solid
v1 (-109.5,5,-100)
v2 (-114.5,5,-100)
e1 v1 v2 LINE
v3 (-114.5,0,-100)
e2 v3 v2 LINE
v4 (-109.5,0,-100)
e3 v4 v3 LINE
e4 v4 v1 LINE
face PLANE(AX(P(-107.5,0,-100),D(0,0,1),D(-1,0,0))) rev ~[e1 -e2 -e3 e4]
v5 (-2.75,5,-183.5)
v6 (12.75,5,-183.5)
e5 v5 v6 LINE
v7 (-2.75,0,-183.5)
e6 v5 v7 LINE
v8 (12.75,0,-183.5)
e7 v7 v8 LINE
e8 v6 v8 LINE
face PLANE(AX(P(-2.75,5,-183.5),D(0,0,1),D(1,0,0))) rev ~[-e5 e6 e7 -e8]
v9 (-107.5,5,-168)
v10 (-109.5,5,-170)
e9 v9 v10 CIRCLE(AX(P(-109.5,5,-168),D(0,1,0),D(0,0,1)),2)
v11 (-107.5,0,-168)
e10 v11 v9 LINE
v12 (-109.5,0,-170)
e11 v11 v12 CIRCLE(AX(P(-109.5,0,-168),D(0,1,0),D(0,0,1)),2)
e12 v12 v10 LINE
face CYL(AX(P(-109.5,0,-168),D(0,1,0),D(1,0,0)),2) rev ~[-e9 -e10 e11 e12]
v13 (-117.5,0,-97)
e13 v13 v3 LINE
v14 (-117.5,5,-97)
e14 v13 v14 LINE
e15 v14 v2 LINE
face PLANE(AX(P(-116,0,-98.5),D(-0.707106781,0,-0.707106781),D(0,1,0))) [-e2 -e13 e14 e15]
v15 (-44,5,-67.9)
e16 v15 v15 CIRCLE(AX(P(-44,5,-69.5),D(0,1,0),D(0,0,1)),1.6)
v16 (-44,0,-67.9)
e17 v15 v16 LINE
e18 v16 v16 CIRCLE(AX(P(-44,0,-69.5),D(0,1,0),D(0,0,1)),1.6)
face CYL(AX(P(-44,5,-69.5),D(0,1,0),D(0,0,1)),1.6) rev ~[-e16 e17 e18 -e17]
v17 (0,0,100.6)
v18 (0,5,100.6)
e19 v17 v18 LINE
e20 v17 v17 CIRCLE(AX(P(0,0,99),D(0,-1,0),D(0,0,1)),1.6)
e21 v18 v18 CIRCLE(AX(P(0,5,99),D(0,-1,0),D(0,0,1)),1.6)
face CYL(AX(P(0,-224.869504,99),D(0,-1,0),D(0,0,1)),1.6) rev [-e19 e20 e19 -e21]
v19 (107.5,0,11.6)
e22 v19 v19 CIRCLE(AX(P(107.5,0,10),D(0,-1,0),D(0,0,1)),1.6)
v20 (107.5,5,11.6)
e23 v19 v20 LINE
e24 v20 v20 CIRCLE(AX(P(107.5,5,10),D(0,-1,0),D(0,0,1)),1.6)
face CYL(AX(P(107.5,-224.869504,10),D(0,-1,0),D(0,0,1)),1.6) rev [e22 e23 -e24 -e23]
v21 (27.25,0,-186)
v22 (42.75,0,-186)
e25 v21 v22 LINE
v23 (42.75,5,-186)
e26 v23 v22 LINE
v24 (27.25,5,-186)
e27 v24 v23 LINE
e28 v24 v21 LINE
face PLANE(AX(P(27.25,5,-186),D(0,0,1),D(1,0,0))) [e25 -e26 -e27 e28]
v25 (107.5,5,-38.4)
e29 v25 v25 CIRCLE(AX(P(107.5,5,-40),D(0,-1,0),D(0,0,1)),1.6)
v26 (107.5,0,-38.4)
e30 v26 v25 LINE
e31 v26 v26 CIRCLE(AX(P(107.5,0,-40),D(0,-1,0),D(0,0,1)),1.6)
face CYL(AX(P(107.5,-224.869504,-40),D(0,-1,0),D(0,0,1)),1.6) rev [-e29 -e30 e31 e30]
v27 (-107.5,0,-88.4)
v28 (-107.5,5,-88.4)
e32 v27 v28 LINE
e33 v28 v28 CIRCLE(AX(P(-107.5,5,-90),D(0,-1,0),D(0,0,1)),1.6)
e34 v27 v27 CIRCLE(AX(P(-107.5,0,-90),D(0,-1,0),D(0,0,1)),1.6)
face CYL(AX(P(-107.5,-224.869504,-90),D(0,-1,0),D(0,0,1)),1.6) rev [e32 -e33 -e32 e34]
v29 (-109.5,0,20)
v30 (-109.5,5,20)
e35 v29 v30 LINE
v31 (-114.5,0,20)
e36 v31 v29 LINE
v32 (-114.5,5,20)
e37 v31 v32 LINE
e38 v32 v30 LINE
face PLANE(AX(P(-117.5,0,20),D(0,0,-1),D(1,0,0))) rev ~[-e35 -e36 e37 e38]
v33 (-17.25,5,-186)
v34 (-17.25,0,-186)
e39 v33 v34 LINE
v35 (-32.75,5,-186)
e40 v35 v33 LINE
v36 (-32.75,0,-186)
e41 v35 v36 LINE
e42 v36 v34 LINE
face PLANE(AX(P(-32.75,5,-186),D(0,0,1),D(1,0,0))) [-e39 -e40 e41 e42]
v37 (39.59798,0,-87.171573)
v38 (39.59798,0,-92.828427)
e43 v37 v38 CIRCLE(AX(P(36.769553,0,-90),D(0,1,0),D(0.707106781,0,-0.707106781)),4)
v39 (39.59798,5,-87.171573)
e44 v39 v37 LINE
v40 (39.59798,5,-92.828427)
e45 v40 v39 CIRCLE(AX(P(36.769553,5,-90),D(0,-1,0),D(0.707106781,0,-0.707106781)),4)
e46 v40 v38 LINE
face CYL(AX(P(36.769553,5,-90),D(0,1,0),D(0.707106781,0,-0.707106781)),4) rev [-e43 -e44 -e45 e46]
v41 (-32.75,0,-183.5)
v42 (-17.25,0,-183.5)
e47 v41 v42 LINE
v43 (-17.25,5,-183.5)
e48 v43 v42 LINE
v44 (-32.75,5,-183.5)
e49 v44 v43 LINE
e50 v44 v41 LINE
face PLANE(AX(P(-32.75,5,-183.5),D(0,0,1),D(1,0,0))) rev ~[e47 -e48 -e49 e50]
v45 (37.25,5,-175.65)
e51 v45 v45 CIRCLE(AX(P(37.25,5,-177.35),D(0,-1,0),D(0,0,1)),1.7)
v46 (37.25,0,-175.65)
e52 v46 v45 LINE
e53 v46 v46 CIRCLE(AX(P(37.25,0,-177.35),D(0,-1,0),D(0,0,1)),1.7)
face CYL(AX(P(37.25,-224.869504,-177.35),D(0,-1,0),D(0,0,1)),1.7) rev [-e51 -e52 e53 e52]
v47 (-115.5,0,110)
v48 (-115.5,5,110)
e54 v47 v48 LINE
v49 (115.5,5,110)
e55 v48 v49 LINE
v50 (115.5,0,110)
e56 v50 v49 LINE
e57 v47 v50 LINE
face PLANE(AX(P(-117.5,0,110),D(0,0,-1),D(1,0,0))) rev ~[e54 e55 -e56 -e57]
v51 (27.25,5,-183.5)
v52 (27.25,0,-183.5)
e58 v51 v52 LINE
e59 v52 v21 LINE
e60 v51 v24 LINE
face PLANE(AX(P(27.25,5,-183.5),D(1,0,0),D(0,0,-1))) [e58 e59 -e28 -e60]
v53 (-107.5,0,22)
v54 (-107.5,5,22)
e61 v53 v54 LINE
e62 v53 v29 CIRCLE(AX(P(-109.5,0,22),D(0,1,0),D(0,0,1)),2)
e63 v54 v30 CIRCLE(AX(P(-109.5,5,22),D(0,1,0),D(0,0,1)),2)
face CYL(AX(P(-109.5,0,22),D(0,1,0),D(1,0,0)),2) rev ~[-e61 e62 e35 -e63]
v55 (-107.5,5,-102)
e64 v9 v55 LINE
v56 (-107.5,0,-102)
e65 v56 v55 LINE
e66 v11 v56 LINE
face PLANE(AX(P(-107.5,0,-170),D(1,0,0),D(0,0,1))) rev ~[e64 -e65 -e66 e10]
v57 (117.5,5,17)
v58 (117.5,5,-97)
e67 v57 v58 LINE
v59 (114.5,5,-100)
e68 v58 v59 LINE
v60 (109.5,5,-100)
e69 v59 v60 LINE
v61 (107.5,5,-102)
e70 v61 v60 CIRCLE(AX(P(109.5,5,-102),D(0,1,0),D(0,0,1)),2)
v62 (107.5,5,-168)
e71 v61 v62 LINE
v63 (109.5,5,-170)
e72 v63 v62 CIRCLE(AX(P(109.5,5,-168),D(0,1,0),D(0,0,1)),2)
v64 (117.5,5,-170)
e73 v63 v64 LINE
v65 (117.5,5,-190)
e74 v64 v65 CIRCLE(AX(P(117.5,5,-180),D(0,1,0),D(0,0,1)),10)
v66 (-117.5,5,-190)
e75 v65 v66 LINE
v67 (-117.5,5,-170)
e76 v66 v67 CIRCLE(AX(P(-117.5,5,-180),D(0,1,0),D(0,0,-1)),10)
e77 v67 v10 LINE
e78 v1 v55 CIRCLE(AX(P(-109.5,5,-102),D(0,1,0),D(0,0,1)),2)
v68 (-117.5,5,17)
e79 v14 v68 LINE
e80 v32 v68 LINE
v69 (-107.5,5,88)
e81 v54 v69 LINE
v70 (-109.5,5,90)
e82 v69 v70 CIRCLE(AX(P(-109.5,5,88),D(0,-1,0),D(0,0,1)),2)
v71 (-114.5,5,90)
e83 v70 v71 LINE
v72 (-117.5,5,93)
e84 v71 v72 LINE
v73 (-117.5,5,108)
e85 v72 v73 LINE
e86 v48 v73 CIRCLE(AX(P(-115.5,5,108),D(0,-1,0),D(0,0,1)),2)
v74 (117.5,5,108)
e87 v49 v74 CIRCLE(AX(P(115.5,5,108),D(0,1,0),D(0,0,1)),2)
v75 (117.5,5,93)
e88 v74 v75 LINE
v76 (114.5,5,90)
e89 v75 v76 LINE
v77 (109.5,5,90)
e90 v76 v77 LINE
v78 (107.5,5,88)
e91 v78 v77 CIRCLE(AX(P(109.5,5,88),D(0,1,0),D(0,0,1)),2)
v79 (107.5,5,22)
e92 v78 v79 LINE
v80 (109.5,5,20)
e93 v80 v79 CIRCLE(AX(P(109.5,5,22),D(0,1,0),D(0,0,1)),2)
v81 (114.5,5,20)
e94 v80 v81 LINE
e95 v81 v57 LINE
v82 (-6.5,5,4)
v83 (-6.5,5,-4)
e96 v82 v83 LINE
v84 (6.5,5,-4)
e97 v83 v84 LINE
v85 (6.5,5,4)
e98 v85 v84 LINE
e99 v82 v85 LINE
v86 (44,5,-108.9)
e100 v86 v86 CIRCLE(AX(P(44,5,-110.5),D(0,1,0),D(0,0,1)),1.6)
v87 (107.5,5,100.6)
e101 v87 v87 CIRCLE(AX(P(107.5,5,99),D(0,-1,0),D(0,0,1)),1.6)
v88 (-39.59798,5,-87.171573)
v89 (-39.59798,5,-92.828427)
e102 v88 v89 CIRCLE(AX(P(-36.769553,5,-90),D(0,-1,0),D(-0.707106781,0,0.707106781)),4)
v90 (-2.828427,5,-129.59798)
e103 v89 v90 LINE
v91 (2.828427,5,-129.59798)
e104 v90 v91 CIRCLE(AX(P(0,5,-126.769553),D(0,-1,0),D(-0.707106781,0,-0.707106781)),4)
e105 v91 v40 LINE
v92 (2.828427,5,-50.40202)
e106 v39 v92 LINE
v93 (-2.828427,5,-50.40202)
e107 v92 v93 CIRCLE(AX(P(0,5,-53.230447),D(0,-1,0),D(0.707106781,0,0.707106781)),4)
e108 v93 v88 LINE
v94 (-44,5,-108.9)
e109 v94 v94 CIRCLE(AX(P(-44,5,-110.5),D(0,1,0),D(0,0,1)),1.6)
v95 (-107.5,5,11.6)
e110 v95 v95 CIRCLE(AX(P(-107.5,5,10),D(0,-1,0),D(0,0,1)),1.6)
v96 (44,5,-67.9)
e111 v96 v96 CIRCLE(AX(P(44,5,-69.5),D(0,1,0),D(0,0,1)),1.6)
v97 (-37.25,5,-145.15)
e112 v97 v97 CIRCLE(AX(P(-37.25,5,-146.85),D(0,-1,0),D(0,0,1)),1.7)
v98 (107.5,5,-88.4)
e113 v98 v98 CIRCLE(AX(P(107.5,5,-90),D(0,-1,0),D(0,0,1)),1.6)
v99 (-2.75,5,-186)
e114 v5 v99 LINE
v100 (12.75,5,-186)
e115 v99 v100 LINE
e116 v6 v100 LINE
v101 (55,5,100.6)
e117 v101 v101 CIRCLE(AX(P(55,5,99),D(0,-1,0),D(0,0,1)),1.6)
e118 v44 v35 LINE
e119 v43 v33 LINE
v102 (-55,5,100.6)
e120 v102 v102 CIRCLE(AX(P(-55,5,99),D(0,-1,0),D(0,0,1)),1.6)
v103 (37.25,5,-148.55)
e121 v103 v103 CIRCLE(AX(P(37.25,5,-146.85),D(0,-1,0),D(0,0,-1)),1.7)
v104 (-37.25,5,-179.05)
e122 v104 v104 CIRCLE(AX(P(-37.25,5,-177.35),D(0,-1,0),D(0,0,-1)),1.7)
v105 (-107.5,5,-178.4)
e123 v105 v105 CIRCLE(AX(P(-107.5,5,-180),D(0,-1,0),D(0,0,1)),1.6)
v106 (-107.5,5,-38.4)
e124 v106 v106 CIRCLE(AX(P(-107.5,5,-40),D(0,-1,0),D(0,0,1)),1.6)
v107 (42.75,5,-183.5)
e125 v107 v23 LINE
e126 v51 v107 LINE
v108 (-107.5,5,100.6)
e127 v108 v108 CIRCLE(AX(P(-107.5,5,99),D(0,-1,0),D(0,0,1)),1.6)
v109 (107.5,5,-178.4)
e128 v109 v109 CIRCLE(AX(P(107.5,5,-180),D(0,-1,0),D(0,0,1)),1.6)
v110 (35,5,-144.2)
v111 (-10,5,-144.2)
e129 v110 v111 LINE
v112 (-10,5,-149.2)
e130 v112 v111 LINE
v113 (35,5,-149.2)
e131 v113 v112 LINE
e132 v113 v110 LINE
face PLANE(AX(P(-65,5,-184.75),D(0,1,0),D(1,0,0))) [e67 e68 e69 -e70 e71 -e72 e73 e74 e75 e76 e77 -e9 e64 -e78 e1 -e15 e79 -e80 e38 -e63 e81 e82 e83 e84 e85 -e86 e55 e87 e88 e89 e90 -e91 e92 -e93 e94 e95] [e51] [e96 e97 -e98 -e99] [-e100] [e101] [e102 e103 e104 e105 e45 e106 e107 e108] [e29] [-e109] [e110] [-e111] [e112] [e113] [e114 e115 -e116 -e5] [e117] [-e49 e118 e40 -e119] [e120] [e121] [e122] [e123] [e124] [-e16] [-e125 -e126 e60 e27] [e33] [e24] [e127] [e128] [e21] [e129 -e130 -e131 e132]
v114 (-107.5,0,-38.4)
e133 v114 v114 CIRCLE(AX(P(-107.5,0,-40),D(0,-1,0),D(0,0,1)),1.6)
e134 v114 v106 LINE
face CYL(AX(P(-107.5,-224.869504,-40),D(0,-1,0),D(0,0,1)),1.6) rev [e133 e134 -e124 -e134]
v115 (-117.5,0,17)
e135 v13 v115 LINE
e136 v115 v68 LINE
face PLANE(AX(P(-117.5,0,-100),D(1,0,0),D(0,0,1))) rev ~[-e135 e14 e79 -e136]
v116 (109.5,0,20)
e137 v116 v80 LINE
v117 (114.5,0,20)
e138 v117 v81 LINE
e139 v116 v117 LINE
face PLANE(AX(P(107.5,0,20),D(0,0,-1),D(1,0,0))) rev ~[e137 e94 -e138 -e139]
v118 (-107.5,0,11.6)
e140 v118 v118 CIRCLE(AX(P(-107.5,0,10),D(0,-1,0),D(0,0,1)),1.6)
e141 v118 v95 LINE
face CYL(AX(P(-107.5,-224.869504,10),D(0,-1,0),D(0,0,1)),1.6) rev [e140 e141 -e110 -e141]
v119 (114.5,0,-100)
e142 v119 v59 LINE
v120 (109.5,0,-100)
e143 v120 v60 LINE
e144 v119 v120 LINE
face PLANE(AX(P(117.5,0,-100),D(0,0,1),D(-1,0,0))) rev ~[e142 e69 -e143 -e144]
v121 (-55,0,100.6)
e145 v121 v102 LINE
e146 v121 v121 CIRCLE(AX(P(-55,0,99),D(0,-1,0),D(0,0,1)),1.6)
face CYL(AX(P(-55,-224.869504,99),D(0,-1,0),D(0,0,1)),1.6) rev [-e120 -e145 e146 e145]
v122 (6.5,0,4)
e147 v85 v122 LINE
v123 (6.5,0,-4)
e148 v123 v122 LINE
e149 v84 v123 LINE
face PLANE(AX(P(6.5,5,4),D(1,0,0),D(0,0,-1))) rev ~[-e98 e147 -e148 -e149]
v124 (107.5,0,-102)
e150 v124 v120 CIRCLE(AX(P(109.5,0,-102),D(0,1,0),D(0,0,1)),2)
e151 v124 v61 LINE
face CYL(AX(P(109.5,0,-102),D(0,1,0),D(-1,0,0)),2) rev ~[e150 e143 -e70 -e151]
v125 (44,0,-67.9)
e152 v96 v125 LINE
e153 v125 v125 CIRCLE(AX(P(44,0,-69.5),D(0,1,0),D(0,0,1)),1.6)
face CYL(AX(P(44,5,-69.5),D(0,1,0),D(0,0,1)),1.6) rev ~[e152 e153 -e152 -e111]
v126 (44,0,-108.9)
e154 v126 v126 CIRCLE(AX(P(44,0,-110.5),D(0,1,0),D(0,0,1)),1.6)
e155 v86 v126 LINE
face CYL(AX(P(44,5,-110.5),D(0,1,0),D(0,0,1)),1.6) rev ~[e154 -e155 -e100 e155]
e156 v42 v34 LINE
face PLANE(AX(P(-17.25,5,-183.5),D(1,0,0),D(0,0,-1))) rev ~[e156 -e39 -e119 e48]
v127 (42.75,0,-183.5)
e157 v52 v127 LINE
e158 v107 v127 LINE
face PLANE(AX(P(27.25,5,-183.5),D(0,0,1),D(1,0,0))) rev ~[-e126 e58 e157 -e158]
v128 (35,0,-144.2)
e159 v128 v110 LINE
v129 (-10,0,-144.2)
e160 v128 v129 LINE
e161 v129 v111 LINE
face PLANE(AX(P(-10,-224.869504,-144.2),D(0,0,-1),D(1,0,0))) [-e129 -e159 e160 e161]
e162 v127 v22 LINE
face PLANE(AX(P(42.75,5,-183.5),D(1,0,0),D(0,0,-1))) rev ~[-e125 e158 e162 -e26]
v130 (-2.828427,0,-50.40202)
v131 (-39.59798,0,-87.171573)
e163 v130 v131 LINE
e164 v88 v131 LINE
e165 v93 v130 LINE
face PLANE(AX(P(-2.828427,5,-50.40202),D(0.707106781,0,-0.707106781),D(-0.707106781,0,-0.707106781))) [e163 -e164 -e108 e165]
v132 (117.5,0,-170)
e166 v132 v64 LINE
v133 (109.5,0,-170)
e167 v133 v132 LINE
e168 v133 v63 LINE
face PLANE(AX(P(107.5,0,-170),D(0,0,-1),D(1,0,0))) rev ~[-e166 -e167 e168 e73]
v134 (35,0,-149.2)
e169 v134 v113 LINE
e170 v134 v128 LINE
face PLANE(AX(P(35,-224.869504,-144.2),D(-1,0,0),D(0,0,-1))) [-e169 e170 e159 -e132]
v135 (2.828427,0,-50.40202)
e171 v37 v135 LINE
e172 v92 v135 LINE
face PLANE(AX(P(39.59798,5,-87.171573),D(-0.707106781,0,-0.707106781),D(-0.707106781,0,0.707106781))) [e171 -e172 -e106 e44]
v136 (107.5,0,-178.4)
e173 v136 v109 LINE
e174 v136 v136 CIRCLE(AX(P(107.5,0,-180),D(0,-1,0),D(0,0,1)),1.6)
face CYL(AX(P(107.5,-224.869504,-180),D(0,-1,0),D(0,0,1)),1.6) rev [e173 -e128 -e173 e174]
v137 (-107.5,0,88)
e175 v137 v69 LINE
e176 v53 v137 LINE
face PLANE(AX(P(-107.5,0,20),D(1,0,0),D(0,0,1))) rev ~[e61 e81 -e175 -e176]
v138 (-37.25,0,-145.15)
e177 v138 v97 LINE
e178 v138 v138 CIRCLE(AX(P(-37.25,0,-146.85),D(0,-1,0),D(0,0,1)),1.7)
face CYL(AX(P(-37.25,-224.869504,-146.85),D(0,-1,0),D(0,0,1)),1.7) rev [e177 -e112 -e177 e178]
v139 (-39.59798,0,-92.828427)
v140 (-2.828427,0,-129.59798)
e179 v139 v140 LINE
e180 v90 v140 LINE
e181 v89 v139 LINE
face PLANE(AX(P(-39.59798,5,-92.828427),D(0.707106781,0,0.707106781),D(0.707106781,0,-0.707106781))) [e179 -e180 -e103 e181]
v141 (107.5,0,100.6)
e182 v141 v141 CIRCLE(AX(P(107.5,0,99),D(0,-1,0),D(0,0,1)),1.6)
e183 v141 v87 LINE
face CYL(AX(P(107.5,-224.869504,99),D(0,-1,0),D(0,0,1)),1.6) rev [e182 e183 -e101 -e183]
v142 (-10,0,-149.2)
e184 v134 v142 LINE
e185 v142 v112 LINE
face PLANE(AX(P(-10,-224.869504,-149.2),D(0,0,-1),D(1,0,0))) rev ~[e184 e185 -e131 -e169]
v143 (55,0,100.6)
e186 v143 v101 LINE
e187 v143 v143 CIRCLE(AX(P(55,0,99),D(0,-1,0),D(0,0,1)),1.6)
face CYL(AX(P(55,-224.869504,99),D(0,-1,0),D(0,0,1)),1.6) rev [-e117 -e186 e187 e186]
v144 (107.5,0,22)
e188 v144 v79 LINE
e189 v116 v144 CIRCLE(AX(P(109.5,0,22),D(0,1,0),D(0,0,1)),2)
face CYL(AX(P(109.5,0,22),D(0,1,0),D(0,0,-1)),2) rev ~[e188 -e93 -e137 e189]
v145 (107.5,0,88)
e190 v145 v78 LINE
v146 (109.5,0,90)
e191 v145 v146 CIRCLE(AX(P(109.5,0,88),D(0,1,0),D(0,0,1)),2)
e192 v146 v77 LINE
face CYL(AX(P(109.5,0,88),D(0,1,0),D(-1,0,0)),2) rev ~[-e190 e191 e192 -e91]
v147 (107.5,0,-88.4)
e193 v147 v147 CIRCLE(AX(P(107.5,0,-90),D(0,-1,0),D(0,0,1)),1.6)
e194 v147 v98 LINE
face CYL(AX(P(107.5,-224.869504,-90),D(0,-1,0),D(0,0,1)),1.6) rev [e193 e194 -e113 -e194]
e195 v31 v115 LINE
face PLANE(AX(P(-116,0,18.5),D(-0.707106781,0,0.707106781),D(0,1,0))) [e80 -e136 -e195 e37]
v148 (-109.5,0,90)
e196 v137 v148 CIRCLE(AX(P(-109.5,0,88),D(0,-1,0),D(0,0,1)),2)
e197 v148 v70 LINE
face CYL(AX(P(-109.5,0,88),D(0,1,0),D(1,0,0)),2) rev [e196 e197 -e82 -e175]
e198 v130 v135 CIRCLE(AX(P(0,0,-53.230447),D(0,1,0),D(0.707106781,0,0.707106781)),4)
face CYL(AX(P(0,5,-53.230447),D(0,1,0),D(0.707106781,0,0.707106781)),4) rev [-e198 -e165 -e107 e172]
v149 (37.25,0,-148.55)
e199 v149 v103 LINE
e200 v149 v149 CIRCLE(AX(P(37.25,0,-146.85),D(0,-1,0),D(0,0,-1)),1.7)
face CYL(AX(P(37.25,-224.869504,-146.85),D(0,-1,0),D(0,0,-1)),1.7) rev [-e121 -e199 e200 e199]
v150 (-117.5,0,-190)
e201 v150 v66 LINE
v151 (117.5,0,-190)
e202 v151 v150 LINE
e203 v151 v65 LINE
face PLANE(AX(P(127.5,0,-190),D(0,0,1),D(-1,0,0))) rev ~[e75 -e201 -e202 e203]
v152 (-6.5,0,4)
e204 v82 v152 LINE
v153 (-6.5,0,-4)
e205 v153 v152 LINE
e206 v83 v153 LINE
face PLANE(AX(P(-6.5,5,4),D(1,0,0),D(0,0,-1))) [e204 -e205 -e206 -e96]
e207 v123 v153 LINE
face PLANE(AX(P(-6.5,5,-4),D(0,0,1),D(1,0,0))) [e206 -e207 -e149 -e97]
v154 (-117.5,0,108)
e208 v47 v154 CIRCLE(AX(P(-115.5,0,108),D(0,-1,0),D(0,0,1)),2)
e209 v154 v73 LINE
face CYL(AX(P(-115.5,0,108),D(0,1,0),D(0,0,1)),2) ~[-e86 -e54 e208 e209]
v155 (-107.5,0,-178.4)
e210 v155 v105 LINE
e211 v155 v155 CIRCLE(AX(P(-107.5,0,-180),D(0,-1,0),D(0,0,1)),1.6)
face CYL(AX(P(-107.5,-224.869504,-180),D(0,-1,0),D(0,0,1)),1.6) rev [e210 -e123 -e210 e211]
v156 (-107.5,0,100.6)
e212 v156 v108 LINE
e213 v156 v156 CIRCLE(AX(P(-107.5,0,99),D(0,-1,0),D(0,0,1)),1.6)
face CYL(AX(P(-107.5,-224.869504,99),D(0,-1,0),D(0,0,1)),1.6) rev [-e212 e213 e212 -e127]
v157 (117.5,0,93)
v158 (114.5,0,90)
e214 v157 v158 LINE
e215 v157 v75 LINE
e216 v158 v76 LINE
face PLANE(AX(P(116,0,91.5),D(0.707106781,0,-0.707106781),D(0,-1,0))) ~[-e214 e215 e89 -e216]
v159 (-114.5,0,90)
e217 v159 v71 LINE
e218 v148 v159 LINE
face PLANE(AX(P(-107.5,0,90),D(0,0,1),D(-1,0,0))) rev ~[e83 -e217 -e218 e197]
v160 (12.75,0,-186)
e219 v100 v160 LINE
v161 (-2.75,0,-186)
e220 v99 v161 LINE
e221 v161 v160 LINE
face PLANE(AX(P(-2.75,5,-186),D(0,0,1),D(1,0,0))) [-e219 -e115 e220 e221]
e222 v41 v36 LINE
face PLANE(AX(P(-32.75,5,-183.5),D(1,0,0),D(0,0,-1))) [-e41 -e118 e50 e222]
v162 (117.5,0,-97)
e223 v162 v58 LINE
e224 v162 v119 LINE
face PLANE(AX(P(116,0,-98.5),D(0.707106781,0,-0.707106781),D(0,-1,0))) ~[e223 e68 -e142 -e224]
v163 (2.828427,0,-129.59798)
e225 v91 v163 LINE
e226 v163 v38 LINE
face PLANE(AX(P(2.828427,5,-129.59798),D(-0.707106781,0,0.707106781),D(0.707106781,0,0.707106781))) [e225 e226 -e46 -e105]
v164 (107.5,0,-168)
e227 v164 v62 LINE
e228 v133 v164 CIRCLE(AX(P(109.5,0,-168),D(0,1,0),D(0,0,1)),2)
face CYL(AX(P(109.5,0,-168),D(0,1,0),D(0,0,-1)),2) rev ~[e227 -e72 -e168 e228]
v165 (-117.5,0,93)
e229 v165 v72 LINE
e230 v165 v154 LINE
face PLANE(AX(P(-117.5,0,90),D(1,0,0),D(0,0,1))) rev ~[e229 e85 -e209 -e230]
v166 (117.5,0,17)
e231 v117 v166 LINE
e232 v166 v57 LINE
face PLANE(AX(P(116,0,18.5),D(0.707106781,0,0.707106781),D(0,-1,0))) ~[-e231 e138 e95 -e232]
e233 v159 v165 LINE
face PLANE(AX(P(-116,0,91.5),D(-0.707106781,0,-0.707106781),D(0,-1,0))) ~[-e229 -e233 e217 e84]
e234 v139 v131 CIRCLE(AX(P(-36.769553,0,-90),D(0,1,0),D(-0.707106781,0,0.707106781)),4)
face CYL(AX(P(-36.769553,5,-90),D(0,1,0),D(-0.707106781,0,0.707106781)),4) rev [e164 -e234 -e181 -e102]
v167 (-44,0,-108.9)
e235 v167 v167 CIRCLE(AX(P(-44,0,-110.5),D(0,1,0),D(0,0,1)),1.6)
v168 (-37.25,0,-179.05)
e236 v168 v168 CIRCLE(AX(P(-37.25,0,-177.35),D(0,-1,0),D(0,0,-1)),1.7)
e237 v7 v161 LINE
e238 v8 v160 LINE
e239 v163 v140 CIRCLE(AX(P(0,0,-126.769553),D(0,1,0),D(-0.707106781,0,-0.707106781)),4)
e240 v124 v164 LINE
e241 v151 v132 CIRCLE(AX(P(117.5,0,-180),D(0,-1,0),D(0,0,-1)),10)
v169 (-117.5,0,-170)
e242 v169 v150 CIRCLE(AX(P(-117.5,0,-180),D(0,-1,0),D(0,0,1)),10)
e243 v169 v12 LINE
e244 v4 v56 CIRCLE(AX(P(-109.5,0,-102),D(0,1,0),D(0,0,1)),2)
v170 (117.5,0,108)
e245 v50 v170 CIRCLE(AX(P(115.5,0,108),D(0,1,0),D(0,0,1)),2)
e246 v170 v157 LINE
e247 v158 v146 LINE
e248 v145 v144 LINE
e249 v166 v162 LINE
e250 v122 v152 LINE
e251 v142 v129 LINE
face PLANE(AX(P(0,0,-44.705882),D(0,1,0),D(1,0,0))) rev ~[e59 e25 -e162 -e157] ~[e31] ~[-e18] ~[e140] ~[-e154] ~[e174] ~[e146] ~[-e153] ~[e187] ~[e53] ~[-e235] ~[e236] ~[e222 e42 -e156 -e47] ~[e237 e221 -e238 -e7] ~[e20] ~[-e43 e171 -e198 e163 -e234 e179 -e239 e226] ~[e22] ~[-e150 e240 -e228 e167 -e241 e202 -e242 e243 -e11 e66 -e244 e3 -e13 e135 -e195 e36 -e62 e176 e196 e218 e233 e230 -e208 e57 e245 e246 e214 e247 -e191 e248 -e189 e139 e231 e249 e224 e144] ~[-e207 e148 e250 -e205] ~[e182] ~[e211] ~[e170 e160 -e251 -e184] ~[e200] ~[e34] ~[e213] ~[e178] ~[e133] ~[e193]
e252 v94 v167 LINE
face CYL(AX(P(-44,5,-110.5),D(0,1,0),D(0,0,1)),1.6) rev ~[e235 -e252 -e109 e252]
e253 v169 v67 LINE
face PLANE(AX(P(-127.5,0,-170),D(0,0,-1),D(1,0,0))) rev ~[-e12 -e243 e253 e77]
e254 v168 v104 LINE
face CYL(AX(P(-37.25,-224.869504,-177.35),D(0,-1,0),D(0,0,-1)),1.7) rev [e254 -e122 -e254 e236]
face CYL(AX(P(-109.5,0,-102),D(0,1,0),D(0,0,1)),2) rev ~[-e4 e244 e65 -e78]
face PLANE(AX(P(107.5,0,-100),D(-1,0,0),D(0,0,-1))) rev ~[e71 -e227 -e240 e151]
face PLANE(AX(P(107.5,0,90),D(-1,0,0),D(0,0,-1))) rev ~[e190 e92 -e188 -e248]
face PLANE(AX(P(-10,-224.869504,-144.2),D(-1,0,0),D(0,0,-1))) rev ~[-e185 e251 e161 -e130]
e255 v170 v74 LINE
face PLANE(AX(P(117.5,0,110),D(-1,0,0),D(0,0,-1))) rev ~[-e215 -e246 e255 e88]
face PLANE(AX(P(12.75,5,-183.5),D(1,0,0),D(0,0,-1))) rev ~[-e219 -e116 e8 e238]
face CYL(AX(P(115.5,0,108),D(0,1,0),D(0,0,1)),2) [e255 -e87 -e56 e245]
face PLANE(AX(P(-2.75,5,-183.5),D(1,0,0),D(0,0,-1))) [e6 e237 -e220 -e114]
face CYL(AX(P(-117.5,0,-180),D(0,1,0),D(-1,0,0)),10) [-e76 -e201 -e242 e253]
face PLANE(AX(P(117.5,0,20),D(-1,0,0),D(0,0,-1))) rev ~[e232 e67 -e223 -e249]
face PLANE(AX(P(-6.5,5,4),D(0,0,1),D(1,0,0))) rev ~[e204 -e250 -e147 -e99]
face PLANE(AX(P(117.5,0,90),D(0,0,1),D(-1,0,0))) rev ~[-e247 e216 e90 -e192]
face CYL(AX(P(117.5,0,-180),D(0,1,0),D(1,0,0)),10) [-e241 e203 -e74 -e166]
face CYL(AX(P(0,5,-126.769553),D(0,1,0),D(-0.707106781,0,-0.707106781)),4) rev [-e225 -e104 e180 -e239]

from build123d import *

# Parameters (mm, degrees)
BOSS_EXTRUDE1_DEPTH       = 5
FILLET3_RADIUS            = 10
FILLET3_LENGTH            = 5
FILLET4_RADIUS            = 10
FILLET4_LENGTH            = 5
FILLET2_R                 = 2
LAYER_FIX_HOLE_DEPTH      = 229.869504303
LAYER_FIX_HOLE_DEPTH_BACK = 229.869504303
SKETCH2_R                 = 1.6
SKETCH3_R                 = 1.6
ARM_FIX_HOLE_DEPTH        = 229.869504303
SKETCH4_W                 = 15.5
SKETCH4_H                 = 2.5
IR_FIX_HOLE_DEPTH         = 229.869504303
CHAMFER1_SIZE             = 3
SKETCH5_W                 = 15.5
SKETCH5_H                 = 2.5
BOSS_EXTRUDE2_DEPTH       = 5
TURN_ON_OFF_SWITCH_REACH  = 230.87
SKETCH6_W                 = 13
SKETCH6_H                 = 8
CUT_EXTRUDE2_DEPTH        = 229.869504303
CUT_EXTRUDE2_DEPTH_BACK   = 229.869504303
SKETCH9_R                 = 1.7
SKETCH9_W                 = 45
SKETCH9_H                 = 5


with BuildPart() as part:
    # Sketch1 → Boss-Extrude1 (new body)
    with BuildSketch(Plane(origin=(0, 0, 0), x_dir=(1, 0, 0), z_dir=(0, 1, 0))):
        Polygon((-117.5, -110), (117.5, -110), (117.5, -90), (107.5, -90), (107.5, -20), (117.5, -20), (117.5, 100), (107.5, 100), (107.5, 170), (127.5, 170), (127.5, 190), (-127.5, 190), (-127.5, 170), (-107.5, 170), (-107.5, 100), (-117.5, 100), (-117.5, -20), (-107.5, -20), (-107.5, -90), (-117.5, -90), align=None)
    extrude(amount=BOSS_EXTRUDE1_DEPTH)

    # Fillet3: full round fillet: the end face becomes a half cylinder, R = half its width
    fillet3_face = Plane((127.5, 2.5, -180), x_dir=(0, 1, 0), z_dir=(1, 0, 0))  # on the end face: x along it, z out of the body
    fillet3_slab = fillet3_face.offset(-FILLET3_RADIUS / 2) * Box(FILLET3_LENGTH, 2 * FILLET3_RADIUS, FILLET3_RADIUS, mode=Mode.PRIVATE)  # the body's end, R deep
    fillet3_round = Plane((117.5, 2.5, -180), x_dir=(1, 0, 0), z_dir=(0, 1, 0)) * Cylinder(FILLET3_RADIUS, FILLET3_LENGTH, mode=Mode.PRIVATE)  # its axis R under the face
    add(fillet3_slab - fillet3_round, mode=Mode.SUBTRACT)

    # Fillet4: full round fillet: the end face becomes a half cylinder, R = half its width
    fillet4_face = Plane((-127.5, 2.5, -180), x_dir=(0, 1, 0), z_dir=(-1, 0, 0))  # on the end face: x along it, z out of the body
    fillet4_slab = fillet4_face.offset(-FILLET4_RADIUS / 2) * Box(FILLET4_LENGTH, 2 * FILLET4_RADIUS, FILLET4_RADIUS, mode=Mode.PRIVATE)  # the body's end, R deep
    fillet4_round = Plane((-117.5, 2.5, -180), x_dir=(-1, 0, 0), z_dir=(0, 1, 0)) * Cylinder(FILLET4_RADIUS, FILLET4_LENGTH, mode=Mode.PRIVATE)  # its axis R under the face
    add(fillet4_slab - fillet4_round, mode=Mode.SUBTRACT)

    # Fillet2
    fillet2_edges = [part.edges().sort_by_distance(p)[0] for p in [
        (117.5, 2.5, 110),
        (-117.5, 2.5, 110),
        (-107.5, 2.5, 90),
        (-107.5, 2.5, 20),
        (-107.5, 2.5, -100),
        (-107.5, 2.5, -170),
        (107.5, 2.5, -170),
        (107.5, 2.5, -100),
        (107.5, 2.5, 20),
        (107.5, 2.5, 90),
    ]]
    fillet(fillet2_edges, radius=FILLET2_R)

    # Sketch2 → layer fix hole (cut, two sides: drawn at the far end of the back side and taken through both)
    with BuildSketch(Plane(origin=(0, 5, 0), x_dir=(1, 0, 0), z_dir=(0, 1, 0)).offset(-LAYER_FIX_HOLE_DEPTH_BACK)):
        with Locations(Location((107.5, 180, 0), (0, 0, 270))):
            Circle(SKETCH2_R)
        with Locations(Location((107.5, 40, 0), (0, 0, 270))):
            Circle(SKETCH2_R)
        with Locations(Location((107.5, -99, 0), (0, 0, 270))):
            Circle(SKETCH2_R)
        with Locations(Location((-107.5, 40, 0), (0, 0, 270))):
            Circle(SKETCH2_R)
        with Locations(Location((-107.5, -99, 0), (0, 0, 270))):
            Circle(SKETCH2_R)
        with Locations(Location((-107.5, 180, 0), (0, 0, 270))):
            Circle(SKETCH2_R)
        with Locations(Location((0, -99, 0), (0, 0, 270))):
            Circle(SKETCH2_R)
        with Locations(Location((55, -99, 0), (0, 0, 270))):
            Circle(SKETCH2_R)
        with Locations(Location((-55, -99, 0), (0, 0, 270))):
            Circle(SKETCH2_R)
        with Locations(Location((-107.5, 90, 0), (0, 0, 270))):
            Circle(SKETCH2_R)
        with Locations(Location((107.5, 90, 0), (0, 0, 270))):
            Circle(SKETCH2_R)
        with Locations(Location((-107.5, -10, 0), (0, 0, 270))):
            Circle(SKETCH2_R)
        with Locations(Location((107.5, -10, 0), (0, 0, 270))):
            Circle(SKETCH2_R)
    extrude(amount=LAYER_FIX_HOLE_DEPTH + LAYER_FIX_HOLE_DEPTH_BACK, mode=Mode.SUBTRACT)

    # Sketch3 → arm fix hole (cut, through all)
    with BuildSketch(Plane(origin=(0, 5, 0), x_dir=(1, 0, 0), z_dir=(0, 1, 0))):
        with Locations(Location((44, 110.5, 0), (0, 0, 270))):
            Circle(SKETCH3_R)
        with Locations(Location((44, 69.5, 0), (0, 0, 270))):
            Circle(SKETCH3_R)
        with Locations(Location((-44, 69.5, 0), (0, 0, 270))):
            Circle(SKETCH3_R)
        with Locations(Location((-44, 110.5, 0), (0, 0, 270))):
            Circle(SKETCH3_R)
        with BuildLine():
            Line((-39.597979746, 92.828427125), (-2.828427125, 129.597979746))
            ThreePointArc((-2.828427125, 129.597979746), (0, 130.769552622), (2.828427125, 129.597979746))
            Line((2.828427125, 129.597979746), (39.597979746, 92.828427125))
            ThreePointArc((39.597979746, 92.828427125), (40.769552622, 90), (39.597979746, 87.171572875))
            Line((39.597979746, 87.171572875), (2.828427125, 50.402020254))
            ThreePointArc((2.828427125, 50.402020254), (0, 49.230447378), (-2.828427125, 50.402020254))
            Line((-2.828427125, 50.402020254), (-39.597979746, 87.171572875))
            ThreePointArc((-39.597979746, 87.171572875), (-40.769552622, 90), (-39.597979746, 92.828427125))
        make_face()
    extrude(amount=-ARM_FIX_HOLE_DEPTH, mode=Mode.SUBTRACT)

    # Sketch4 → IR fix hole (cut, through all)
    with BuildSketch(Plane(origin=(0, 5, 0), x_dir=(1, 0, 0), z_dir=(0, 1, 0))):
        with Locations((-25, 184.75)):
            Rectangle(SKETCH4_W, SKETCH4_H)
        with Locations((-65, 184.75)):
            Rectangle(SKETCH4_W, SKETCH4_H)
        with Locations((5, 184.75)):
            Rectangle(SKETCH4_W, SKETCH4_H)
        with Locations((35, 184.75)):
            Rectangle(SKETCH4_W, SKETCH4_H)
    extrude(amount=-IR_FIX_HOLE_DEPTH, mode=Mode.SUBTRACT)

    # Chamfer1
    chamfer1_edges = [part.edges().sort_by_distance(p)[0] for p in [
        (-117.5, 2.5, 90),
        (-117.5, 2.5, 20),
        (-117.5, 2.5, -100),
        (117.5, 2.5, -100),
        (117.5, 2.5, 20),
        (117.5, 2.5, 90),
    ]]
    chamfer(chamfer1_edges, length=CHAMFER1_SIZE)

    # Sketch5 → Boss-Extrude2 (add)
    with BuildSketch(Plane(origin=(0, 5, 0), x_dir=(1, 0, 0), z_dir=(0, 1, 0))):
        with Locations((-65, 184.75)):
            Rectangle(SKETCH5_W, SKETCH5_H)
    extrude(amount=-BOSS_EXTRUDE2_DEPTH)

    # Sketch6 → Turn on_off Switch (cut, up to next)
    with BuildSketch(Plane(origin=(0, 5, 0), x_dir=(1, 0, 0), z_dir=(0, 1, 0)), mode=Mode.PRIVATE) as turn_on_off_switch_sk1:
        Rectangle(SKETCH6_W, SKETCH6_H)
    turn_on_off_switch_tool1 = extrude(turn_on_off_switch_sk1.sketch, amount=-TURN_ON_OFF_SWITCH_REACH, mode=Mode.PRIVATE) & part.part
    add(turn_on_off_switch_tool1.solids().sort_by_distance((0, 5, 0))[0], mode=Mode.SUBTRACT)

    # Sketch9 → Cut-Extrude2 (cut, two sides: drawn at the far end of the back side and taken through both)
    with BuildSketch(Plane(origin=(0, 5, 0), x_dir=(1, 0, 0), z_dir=(0, 1, 0)).offset(-CUT_EXTRUDE2_DEPTH_BACK)):
        with Locations(Location((-37.25, 177.35, 0), (0, 0, 90))):
            Circle(SKETCH9_R)
        with Locations(Location((37.25, 177.35, 0), (0, 0, 270))):
            Circle(SKETCH9_R)
        with Locations(Location((37.25, 146.85, 0), (0, 0, 90))):
            Circle(SKETCH9_R)
        with Locations(Location((-37.25, 146.85, 0), (0, 0, 270))):
            Circle(SKETCH9_R)
        with Locations((12.5, 146.7)):
            Rectangle(SKETCH9_W, SKETCH9_H)
    extrude(amount=CUT_EXTRUDE2_DEPTH + CUT_EXTRUDE2_DEPTH_BACK, mode=Mode.SUBTRACT)


solid = part.part
